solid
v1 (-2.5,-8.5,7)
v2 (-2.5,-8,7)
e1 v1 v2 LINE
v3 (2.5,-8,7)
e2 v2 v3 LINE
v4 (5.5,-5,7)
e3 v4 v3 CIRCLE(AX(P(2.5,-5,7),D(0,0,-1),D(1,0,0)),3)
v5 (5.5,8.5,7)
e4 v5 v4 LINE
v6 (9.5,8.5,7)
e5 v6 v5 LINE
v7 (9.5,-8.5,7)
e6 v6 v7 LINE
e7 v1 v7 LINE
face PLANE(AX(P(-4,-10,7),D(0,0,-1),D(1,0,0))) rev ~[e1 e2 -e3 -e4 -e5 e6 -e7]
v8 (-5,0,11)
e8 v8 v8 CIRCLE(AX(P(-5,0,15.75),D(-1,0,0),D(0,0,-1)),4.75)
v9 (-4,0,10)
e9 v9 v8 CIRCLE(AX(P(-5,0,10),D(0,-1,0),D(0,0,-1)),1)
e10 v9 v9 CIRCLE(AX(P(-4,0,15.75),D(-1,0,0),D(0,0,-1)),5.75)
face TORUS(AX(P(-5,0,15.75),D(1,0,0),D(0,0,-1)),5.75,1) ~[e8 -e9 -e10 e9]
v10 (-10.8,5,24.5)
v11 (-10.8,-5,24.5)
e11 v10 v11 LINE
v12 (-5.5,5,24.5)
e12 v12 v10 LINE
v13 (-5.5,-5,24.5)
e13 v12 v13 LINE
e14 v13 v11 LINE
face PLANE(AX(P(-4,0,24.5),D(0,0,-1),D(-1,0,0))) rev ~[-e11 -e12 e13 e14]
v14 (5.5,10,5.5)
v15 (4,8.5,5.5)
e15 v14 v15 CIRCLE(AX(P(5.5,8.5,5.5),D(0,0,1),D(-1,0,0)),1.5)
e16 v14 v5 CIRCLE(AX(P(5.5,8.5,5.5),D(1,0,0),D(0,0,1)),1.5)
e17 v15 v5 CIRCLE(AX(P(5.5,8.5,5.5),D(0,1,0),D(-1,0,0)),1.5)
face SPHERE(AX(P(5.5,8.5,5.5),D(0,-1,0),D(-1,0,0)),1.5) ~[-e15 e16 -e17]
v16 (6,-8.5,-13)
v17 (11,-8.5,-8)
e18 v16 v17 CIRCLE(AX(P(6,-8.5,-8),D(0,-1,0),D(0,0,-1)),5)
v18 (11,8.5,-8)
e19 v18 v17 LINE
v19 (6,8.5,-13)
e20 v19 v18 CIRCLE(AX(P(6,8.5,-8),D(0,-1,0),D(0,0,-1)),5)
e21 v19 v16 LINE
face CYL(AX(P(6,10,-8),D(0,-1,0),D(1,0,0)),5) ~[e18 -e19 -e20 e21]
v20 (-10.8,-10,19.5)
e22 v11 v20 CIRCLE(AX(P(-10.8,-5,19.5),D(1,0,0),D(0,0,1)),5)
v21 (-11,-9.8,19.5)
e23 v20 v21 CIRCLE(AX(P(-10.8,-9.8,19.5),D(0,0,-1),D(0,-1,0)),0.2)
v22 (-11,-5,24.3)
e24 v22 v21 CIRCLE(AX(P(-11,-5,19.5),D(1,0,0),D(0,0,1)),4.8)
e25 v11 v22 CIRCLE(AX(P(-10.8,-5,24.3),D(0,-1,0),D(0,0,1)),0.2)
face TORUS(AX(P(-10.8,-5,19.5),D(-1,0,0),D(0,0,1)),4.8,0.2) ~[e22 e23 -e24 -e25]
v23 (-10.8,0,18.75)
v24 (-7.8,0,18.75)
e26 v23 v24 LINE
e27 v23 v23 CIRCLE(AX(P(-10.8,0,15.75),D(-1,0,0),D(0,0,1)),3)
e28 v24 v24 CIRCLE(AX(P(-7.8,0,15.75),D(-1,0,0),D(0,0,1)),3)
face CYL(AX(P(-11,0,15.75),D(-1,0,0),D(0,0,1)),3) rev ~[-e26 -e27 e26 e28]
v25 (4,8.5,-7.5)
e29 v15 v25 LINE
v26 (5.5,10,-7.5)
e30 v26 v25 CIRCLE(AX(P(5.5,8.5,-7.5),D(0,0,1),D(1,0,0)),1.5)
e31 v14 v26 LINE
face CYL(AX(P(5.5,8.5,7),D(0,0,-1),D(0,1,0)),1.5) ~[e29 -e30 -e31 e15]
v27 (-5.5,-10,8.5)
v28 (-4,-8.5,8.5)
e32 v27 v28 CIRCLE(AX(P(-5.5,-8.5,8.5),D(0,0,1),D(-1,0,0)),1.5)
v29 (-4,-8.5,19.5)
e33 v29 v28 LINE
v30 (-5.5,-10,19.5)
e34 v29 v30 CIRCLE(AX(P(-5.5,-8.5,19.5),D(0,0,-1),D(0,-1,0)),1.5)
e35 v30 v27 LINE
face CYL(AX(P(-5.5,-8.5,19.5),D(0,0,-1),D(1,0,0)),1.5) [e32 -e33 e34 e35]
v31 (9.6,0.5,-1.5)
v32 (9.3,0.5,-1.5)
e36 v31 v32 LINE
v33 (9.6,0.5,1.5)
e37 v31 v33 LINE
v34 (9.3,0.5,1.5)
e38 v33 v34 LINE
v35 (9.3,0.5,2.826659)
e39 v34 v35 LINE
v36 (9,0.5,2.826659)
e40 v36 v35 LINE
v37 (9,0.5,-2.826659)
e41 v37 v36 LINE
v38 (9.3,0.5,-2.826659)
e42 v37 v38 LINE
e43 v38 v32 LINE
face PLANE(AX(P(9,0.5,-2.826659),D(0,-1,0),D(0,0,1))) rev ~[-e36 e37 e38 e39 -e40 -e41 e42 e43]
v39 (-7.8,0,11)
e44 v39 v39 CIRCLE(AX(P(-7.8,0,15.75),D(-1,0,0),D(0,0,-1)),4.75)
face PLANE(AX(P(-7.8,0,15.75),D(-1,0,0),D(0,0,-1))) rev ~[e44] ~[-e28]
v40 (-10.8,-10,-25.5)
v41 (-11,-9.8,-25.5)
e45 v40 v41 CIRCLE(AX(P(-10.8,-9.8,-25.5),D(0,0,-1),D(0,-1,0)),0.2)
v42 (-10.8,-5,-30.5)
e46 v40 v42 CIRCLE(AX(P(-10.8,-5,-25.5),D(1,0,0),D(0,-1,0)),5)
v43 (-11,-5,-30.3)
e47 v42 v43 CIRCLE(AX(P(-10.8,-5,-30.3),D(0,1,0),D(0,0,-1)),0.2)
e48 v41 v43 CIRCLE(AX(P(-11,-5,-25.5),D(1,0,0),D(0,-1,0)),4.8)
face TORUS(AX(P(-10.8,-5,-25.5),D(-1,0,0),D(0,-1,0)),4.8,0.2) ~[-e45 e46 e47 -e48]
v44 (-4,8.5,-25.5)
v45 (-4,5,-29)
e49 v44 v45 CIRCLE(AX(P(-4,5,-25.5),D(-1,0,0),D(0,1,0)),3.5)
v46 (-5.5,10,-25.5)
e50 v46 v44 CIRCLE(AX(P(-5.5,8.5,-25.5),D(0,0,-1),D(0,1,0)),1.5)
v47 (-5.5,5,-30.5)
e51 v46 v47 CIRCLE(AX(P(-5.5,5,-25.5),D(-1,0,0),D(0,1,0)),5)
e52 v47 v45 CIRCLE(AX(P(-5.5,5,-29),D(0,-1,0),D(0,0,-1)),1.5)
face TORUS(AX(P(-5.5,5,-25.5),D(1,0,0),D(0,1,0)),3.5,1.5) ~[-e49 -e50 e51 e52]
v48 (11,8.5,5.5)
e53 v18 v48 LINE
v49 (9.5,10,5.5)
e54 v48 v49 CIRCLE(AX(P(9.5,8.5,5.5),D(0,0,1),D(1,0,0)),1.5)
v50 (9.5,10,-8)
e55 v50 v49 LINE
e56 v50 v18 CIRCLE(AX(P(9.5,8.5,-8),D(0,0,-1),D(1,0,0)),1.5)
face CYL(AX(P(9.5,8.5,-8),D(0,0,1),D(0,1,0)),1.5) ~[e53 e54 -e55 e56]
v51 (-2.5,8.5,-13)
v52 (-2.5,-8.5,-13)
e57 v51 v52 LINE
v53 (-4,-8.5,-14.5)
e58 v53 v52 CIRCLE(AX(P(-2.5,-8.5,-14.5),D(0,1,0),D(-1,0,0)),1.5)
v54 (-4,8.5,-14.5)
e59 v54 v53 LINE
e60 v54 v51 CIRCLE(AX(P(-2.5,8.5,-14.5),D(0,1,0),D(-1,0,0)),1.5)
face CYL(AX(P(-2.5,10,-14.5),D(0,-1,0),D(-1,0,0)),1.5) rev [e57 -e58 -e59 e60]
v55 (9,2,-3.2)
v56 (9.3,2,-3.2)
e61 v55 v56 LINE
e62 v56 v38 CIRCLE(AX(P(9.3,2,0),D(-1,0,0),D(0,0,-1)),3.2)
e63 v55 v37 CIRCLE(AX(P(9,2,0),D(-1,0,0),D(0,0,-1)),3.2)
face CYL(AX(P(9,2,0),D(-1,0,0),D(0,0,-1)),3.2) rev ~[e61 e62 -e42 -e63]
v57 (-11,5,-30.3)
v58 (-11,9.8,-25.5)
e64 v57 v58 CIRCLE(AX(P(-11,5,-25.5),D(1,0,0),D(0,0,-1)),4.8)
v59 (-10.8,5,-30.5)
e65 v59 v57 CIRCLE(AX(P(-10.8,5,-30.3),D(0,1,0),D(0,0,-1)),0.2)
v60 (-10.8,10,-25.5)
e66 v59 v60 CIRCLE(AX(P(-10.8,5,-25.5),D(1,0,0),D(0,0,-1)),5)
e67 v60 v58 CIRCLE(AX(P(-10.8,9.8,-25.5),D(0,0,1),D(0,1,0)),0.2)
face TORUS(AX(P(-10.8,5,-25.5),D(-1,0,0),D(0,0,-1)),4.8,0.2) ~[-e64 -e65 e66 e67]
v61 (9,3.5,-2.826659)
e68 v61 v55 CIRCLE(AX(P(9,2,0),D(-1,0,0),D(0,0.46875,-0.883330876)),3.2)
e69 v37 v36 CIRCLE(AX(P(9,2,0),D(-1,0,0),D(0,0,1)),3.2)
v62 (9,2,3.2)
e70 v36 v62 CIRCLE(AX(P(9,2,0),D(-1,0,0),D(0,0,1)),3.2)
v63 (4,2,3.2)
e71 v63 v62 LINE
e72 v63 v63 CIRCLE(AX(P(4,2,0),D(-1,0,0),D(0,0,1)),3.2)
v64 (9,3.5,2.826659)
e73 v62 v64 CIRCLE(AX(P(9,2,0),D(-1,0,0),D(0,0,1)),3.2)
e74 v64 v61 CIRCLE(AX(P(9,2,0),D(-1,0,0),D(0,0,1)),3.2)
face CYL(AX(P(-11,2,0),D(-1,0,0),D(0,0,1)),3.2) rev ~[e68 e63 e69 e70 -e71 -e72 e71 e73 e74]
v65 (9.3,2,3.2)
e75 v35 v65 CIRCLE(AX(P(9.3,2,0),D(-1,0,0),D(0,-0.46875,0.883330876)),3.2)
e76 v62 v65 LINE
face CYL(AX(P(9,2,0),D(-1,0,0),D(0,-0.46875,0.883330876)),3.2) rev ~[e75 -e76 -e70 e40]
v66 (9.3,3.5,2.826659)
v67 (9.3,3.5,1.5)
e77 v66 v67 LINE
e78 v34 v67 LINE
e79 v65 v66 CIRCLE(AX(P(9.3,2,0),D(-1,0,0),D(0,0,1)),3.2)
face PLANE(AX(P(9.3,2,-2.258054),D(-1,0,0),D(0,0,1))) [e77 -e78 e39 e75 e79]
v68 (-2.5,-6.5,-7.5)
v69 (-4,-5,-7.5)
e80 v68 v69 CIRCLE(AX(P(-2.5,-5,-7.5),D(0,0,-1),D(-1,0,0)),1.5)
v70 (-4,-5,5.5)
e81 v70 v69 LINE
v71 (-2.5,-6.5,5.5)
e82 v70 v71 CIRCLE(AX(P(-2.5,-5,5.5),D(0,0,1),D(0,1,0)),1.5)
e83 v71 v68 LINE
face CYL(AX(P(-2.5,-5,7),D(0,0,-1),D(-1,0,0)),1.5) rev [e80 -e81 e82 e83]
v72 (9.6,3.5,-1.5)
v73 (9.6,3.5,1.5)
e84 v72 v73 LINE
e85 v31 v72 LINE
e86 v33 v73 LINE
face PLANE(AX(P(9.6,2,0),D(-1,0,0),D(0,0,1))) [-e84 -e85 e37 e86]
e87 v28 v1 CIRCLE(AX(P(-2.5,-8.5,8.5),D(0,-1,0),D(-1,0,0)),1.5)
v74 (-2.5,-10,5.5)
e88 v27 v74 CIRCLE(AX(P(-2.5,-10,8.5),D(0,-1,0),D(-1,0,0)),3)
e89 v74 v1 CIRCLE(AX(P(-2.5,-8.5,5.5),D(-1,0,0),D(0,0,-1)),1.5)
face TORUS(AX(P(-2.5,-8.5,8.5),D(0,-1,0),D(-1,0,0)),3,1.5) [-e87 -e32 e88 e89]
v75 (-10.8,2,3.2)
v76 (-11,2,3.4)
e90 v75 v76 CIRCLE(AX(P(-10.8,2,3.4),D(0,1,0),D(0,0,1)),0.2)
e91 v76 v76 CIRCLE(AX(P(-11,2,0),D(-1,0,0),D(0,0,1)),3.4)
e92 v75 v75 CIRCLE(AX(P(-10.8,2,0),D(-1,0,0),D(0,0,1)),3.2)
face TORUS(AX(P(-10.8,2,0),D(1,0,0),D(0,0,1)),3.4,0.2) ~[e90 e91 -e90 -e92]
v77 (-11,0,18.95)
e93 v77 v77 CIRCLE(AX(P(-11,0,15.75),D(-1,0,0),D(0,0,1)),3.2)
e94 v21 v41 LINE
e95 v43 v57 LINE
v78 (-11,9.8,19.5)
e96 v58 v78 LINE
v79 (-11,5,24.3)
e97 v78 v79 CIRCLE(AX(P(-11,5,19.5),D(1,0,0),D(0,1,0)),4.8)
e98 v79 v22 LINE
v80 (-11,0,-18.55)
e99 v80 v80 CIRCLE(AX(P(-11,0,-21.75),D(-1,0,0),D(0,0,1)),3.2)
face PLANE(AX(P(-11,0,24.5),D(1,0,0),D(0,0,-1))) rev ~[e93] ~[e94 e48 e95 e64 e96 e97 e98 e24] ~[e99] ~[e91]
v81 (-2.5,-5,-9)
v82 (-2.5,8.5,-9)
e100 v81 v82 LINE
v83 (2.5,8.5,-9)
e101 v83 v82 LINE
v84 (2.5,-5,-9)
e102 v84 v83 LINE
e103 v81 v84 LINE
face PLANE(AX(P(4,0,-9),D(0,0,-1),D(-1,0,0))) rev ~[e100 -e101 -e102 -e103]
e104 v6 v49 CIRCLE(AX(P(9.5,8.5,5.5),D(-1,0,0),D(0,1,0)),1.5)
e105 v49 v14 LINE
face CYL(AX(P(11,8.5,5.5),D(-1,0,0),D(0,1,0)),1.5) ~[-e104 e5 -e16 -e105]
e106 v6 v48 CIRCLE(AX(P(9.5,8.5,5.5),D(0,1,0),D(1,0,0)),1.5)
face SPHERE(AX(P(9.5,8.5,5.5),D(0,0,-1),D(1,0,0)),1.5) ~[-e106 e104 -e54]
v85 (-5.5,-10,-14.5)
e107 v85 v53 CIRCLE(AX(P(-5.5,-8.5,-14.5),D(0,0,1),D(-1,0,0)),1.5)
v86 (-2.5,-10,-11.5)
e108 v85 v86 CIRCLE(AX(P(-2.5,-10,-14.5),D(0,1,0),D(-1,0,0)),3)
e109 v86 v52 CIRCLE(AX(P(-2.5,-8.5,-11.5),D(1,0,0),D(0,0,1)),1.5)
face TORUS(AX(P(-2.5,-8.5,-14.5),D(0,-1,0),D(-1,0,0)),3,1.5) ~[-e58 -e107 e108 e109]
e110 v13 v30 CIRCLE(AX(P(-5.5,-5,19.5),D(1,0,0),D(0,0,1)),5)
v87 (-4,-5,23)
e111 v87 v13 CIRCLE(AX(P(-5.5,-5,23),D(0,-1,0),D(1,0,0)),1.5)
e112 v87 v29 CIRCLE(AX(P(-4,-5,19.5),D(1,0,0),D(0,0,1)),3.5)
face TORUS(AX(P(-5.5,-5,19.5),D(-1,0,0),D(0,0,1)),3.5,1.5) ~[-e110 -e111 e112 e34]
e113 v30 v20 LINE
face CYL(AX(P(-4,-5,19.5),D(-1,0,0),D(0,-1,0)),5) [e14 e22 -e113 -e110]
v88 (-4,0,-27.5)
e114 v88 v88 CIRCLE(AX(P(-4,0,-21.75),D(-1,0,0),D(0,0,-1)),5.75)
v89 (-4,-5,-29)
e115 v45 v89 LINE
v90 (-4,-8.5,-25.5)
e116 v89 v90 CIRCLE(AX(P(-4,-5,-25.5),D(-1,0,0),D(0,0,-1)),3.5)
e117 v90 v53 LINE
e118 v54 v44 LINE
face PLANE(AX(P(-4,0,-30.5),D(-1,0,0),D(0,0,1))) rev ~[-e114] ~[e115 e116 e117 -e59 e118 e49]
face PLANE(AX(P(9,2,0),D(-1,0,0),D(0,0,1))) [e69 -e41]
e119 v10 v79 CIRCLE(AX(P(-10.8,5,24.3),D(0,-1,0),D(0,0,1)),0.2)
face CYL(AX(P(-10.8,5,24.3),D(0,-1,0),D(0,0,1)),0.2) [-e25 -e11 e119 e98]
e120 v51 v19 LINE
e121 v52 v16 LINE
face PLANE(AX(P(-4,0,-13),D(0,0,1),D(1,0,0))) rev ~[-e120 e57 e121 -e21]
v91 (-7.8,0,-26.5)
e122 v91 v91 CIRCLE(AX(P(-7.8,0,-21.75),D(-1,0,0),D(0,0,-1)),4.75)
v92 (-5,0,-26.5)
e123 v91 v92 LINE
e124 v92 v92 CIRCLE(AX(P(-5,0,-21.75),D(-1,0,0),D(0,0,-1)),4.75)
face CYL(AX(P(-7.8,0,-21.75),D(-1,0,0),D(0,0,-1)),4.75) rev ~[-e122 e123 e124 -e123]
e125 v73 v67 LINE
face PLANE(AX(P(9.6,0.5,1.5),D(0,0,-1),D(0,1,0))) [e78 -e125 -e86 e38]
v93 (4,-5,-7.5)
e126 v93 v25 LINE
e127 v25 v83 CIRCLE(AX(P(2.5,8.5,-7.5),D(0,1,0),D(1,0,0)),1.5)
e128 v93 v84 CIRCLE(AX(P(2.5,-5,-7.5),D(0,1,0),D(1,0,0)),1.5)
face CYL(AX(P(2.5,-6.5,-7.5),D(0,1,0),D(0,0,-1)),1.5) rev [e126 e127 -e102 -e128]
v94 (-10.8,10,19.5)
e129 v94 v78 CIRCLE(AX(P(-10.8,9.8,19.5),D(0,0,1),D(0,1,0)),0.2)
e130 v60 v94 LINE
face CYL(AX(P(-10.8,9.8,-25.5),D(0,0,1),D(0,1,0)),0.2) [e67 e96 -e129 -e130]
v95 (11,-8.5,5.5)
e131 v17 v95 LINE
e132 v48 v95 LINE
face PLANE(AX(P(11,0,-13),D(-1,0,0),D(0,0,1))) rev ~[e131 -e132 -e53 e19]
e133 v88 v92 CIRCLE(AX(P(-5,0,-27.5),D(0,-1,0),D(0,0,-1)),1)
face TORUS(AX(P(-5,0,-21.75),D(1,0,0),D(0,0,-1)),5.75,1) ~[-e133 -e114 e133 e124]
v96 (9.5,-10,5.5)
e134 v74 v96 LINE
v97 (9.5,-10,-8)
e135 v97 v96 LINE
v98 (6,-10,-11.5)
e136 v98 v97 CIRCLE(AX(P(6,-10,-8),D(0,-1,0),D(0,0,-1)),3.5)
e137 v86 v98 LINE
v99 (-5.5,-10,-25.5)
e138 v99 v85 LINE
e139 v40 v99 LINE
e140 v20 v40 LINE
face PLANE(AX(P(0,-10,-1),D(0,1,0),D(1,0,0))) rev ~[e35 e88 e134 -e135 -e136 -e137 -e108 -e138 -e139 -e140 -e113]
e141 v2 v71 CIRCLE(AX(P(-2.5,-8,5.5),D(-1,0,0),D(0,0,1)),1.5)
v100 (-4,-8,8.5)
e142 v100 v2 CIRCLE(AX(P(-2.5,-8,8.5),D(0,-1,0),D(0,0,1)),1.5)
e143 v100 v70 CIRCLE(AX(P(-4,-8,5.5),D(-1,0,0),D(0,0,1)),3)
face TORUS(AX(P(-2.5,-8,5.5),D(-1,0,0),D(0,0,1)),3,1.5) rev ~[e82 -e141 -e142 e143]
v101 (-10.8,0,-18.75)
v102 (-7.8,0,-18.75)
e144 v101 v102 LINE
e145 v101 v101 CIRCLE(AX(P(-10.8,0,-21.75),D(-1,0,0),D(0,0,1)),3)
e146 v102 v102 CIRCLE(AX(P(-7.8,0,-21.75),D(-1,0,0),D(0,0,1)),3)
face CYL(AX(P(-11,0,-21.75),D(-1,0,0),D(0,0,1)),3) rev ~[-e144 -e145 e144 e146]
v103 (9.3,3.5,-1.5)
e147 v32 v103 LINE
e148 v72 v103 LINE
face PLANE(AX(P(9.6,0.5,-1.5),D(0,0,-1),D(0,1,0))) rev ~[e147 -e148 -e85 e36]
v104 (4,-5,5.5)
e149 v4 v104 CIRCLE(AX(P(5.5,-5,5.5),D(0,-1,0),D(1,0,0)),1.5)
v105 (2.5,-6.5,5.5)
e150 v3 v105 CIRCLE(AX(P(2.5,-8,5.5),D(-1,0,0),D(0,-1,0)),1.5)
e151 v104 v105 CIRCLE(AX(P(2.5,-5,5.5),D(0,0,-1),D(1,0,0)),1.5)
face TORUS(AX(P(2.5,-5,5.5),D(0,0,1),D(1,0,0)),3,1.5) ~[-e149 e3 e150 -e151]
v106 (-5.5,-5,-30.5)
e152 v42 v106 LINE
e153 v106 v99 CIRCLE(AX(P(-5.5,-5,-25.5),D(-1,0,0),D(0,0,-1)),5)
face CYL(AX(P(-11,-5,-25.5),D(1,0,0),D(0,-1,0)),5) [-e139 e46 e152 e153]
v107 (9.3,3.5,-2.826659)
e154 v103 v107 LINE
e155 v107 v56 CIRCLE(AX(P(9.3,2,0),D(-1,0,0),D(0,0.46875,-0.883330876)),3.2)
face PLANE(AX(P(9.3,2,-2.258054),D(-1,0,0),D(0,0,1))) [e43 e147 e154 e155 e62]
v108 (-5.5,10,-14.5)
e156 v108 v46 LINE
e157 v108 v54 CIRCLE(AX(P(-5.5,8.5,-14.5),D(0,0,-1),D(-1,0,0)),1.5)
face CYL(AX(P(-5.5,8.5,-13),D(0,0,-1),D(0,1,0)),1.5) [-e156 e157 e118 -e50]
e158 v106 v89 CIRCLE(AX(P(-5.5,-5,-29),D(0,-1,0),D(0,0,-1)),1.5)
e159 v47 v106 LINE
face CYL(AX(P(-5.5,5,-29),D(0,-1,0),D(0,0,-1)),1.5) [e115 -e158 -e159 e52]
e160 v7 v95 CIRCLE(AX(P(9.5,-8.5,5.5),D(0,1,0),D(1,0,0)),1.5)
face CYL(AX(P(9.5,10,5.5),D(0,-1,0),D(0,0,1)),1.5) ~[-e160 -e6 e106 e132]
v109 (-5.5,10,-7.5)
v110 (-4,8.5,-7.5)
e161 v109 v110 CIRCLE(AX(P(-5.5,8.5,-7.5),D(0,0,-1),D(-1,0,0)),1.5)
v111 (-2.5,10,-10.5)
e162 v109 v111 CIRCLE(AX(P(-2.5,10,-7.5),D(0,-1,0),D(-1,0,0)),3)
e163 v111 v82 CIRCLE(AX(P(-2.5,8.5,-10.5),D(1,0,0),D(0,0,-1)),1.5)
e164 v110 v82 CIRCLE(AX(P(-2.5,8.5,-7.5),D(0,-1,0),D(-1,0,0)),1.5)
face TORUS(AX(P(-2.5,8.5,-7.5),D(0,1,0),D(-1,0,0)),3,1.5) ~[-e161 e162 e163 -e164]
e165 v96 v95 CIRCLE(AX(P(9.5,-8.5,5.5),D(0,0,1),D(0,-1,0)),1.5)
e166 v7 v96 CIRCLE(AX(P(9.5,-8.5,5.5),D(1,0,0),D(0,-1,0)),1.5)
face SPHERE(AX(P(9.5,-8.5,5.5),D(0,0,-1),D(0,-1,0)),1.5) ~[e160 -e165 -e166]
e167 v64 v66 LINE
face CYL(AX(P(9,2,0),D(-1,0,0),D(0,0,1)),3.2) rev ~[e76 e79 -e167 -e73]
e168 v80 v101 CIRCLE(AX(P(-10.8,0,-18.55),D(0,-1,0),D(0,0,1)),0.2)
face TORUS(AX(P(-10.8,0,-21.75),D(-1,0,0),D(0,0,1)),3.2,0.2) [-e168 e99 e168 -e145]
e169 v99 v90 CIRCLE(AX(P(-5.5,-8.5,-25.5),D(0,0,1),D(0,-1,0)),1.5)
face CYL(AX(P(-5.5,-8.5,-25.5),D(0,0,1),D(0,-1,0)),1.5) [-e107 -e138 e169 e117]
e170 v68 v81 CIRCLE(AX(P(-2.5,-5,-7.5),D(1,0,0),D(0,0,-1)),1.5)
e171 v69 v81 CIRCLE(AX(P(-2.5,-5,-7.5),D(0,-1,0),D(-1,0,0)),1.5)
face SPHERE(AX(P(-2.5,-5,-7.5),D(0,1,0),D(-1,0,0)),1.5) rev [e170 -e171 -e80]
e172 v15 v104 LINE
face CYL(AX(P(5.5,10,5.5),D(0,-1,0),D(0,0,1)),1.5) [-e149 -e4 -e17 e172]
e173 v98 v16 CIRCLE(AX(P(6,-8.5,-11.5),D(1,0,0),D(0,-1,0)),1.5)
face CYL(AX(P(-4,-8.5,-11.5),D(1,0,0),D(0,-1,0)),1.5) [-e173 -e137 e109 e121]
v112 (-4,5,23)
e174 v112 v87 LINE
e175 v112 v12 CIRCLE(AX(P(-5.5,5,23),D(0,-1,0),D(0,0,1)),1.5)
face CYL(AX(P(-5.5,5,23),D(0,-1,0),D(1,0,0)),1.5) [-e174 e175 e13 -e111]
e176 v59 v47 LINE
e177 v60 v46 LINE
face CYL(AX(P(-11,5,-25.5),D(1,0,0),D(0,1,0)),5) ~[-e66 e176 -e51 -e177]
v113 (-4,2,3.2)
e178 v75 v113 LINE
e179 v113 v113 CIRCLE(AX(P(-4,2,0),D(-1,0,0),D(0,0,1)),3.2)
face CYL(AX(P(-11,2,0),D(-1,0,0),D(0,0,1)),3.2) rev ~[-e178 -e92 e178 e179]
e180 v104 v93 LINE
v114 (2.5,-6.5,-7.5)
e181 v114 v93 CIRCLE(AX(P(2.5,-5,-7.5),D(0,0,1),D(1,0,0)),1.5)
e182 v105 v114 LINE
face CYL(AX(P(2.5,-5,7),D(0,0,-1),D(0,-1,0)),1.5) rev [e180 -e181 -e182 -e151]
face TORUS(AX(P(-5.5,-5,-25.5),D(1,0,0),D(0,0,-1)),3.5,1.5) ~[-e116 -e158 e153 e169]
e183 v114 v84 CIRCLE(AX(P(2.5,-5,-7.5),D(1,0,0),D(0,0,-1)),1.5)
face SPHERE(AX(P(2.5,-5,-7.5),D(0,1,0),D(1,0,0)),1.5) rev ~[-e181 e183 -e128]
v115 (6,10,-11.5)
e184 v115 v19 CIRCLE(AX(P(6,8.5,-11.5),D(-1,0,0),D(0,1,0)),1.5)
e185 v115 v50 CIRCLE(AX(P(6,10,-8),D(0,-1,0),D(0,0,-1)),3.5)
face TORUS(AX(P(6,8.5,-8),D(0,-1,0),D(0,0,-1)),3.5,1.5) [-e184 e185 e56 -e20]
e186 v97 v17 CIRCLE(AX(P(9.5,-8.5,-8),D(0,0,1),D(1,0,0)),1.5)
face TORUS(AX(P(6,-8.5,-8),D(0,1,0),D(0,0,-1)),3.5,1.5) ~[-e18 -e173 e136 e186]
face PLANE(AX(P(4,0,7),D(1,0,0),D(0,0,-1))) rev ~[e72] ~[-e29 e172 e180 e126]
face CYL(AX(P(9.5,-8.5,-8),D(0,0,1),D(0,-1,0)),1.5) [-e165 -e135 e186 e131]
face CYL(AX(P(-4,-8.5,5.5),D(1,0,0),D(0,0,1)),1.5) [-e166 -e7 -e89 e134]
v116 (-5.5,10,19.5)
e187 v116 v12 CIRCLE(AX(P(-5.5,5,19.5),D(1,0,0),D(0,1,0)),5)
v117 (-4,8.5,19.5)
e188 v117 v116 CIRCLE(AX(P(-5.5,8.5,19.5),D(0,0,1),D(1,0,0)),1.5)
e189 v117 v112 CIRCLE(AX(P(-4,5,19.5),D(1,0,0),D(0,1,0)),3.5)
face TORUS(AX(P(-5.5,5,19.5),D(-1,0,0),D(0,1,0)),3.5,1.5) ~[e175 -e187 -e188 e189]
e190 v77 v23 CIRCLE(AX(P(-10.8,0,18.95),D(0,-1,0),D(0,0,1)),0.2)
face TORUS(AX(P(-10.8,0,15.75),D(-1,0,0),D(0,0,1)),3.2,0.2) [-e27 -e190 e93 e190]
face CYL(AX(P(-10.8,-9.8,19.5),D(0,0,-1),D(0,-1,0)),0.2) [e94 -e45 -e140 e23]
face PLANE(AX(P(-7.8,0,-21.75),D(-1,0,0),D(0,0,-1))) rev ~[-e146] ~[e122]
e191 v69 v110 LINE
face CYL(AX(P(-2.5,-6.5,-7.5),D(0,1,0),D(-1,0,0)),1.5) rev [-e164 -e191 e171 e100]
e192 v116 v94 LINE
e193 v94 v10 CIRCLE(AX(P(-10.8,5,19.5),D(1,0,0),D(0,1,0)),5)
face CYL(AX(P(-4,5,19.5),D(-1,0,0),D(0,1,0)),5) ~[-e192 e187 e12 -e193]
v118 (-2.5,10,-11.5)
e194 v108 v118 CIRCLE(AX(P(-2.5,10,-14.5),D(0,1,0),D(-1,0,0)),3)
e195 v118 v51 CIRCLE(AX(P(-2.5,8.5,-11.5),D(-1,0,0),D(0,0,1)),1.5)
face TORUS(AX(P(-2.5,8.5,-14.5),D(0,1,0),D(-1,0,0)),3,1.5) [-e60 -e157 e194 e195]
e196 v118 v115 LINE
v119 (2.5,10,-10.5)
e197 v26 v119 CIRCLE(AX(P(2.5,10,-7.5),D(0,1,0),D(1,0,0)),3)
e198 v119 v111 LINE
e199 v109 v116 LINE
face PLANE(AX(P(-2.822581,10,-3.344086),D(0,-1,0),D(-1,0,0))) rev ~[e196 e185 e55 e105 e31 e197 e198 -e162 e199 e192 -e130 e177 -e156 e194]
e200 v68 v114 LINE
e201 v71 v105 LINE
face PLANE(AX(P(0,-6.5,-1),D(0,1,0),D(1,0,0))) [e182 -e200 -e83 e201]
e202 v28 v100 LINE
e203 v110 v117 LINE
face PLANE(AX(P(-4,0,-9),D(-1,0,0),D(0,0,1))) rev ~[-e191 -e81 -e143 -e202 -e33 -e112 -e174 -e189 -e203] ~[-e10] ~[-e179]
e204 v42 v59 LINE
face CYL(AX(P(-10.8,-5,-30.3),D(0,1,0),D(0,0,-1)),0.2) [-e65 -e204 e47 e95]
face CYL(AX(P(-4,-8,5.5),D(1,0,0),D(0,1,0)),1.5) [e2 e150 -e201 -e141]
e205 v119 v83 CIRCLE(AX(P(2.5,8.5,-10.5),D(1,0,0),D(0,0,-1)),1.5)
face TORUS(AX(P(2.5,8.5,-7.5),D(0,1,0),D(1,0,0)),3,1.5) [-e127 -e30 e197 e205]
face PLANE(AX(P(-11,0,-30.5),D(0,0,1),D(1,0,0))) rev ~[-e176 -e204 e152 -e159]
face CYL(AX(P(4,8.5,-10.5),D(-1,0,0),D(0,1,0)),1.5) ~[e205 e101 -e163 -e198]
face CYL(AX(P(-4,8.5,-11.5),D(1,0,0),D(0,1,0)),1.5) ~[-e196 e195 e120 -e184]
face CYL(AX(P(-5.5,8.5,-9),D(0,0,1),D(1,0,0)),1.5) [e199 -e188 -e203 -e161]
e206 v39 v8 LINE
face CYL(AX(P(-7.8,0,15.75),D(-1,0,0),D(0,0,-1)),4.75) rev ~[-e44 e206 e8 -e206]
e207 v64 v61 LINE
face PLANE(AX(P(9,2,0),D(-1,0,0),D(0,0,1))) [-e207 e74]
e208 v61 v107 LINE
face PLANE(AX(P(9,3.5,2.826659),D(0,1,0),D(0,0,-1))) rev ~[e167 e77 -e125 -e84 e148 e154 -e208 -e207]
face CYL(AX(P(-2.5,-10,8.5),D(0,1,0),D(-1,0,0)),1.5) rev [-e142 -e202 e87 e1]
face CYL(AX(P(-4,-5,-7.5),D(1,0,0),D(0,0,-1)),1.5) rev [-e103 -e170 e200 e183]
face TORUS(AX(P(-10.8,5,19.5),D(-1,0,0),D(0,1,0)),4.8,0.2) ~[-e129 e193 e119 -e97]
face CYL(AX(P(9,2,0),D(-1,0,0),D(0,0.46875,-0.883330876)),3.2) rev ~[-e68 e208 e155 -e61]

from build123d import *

# Parameters (mm, degrees)
BOSS_EXTRUDE1_DEPTH = 10
BOSS_EXTRUDE2_START = -10
SKETCH1_3_W         = 8
SKETCH1_3_H         = 16
BOSS_EXTRUDE2_DEPTH = 3.5
SKETCH2_R           = 3.2
CUT_EXTRUDE1_DEPTH  = 20
SKETCH2_4_R         = 3
CUT_EXTRUDE2_DEPTH  = 7
CUT_EXTRUDE5_START  = -3.2
SKETCH2_6_R         = 4.75
SKETCH2_6_R_2       = 3
CUT_EXTRUDE5_DEPTH  = 3.8
SKETCH4_W           = 3
SKETCH4_H           = 3
CUT_EXTRUDE9_DEPTH  = 0.3
CUT_EXTRUDE10_START = -0.6
SKETCH4_3_W         = 3
SKETCH4_3_H         = 3
CUT_EXTRUDE10_DEPTH = 0.3
FILLET1_R           = 5
FILLET2_R           = 1.5
FILLET3_R           = 1
FILLET4_R           = 0.2


with BuildPart() as part:
    # Sketch1 → Boss-Extrude1 (new, symmetric)
    with BuildSketch(Plane(origin=(0, 0, 0), x_dir=(1, 0, 0), z_dir=(0, 1, 0))):
        Polygon((-4, -24.5), (-11, -24.5), (-11, 30.5), (-4, 30.5), (-4, 13), (11, 13), (11, -7), (4, -7), (4, 9), (-4, 9), align=None)
    extrude(amount=BOSS_EXTRUDE1_DEPTH, both=True)

    # Sketch1<3> → Boss-Extrude2 (add)
    with BuildSketch(Plane(origin=(0, 0, 0), x_dir=(1, 0, 0), z_dir=(0, 1, 0)).offset(BOSS_EXTRUDE2_START)):
        with Locations((0, 1)):
            Rectangle(SKETCH1_3_W, SKETCH1_3_H)
    extrude(amount=BOSS_EXTRUDE2_DEPTH)

    # Sketch2 → Cut-Extrude1 (cut)
    with BuildSketch(Plane.ZY.offset(11)):
        with Locations((0, 2)):
            Circle(SKETCH2_R)
    extrude(amount=-CUT_EXTRUDE1_DEPTH, mode=Mode.SUBTRACT)

    # Sketch2<4> → Cut-Extrude2 (cut)
    with BuildSketch(Plane.ZY.offset(11)):
        with Locations((-21.75, 0)):
            Circle(SKETCH2_4_R)
        with Locations((15.75, 0)):
            Circle(SKETCH2_4_R)
    extrude(amount=-CUT_EXTRUDE2_DEPTH, mode=Mode.SUBTRACT)

    # Sketch2<6> → Cut-Extrude5 (cut)
    # profile 1 of 2: a face of its own
    with BuildSketch(Plane.ZY.offset(11).offset(CUT_EXTRUDE5_START)):
        with Locations(Location((-21.75, 0, 0), (0, 0, 180))):
            Circle(SKETCH2_6_R)
        with Locations((-21.75, 0)):
            Circle(SKETCH2_6_R_2, mode=Mode.SUBTRACT)
    # profile 2 of 2: a face of its own
    with BuildSketch(Plane.ZY.offset(11).offset(CUT_EXTRUDE5_START)):
        with Locations(Location((15.75, 0, 0), (0, 0, 180))):
            Circle(SKETCH2_6_R)
        with Locations((15.75, 0)):
            Circle(SKETCH2_6_R_2, mode=Mode.SUBTRACT)
    extrude(amount=-CUT_EXTRUDE5_DEPTH, mode=Mode.SUBTRACT)

    # Sketch4 → Cut-Extrude9 (cut)
    with BuildSketch(Plane.ZY.offset(-9)):
        with BuildLine():
            Line((-1.5, 0.5), (-1.5, 3.5))
            Line((-1.5, 3.5), (-2.826658805, 3.5))
            ThreePointArc((-2.826658805, 3.5), (-3.105262322, 2.772881564), (-3.2, 2))
            ThreePointArc((-3.2, 2), (-3.105262322, 1.227118436), (-2.826658805, 0.5))
            Line((-2.826658805, 0.5), (-1.5, 0.5))
        make_face()
        with Locations((0, 2)):
            Rectangle(SKETCH4_W, SKETCH4_H)
        with BuildLine():
            Line((2.826658805, 3.5), (1.5, 3.5))
            Line((1.5, 3.5), (1.5, 0.5))
            Line((1.5, 0.5), (2.826658805, 0.5))
            ThreePointArc((2.826658805, 0.5), (3.105262322, 1.227118436), (3.2, 2))
            ThreePointArc((3.2, 2), (3.105262322, 2.772881564), (2.826658805, 3.5))
        make_face()
    extrude(amount=-CUT_EXTRUDE9_DEPTH, mode=Mode.SUBTRACT)

    # Sketch4<3> → Cut-Extrude10 (cut)
    with BuildSketch(Plane.ZY.offset(-9).offset(CUT_EXTRUDE10_START)):
        with Locations((0, 2)):
            Rectangle(SKETCH4_3_W, SKETCH4_3_H)
    extrude(amount=CUT_EXTRUDE10_DEPTH, mode=Mode.SUBTRACT)

    # Fillet1
    fillet1_edges = [part.edges().sort_by_distance(p)[0] for p in [
        (-7.5, -10, -30.5),
        (-7.5, -10, 24.5),
        (11, 0, -13),
        (-7.5, 10, -30.5),
        (-7.5, 10, 24.5),
    ]]
    fillet(fillet1_edges, radius=FILLET1_R)

    # Fillet2
    fillet2_edges = [part.edges().sort_by_distance(p)[0] for p in [
        (-4, 10, 5.25),
        (-4, -10, -19.25),
        (11, -10, -0.5),
        (9.535533906, -10, -11.535533906),
        (11, 10, -0.5),
        (-4, 10, -19.25),
        (9.535533906, 10, -11.535533906),
        (-4, 0, -30.5),
        (-4, 8.535533906, -29.035533906),
        (-4, -8.535533906, -29.035533906),
        (-4, 0, 24.5),
        (-4, -8.535533906, 23.035533906),
        (-4, 8.535533906, 23.035533906),
        (1, -10, -13),
        (3.5, -10, 7),
        (0, 10, -9),
        (-4, 0, -13),
        (11, 0, 7),
        (4, 1.75, 7),
        (4, 1.75, -9),
        (-4, 1.75, -9),
        (4, 10, -1),
        (7.5, 10, 7),
        (-4, -10, 13.25),
        (1, 10, -13),
        (0, -6.5, 7),
        (-4, -8.25, 7),
        (-4, -6.5, -1),
        (4, -6.5, -1),
        (0, -6.5, -9),
    ]]
    fillet(fillet2_edges, radius=FILLET2_R)

    # Fillet3
    fillet3_edges = [part.edges().sort_by_distance(p)[0] for p in [
        (-4, 0, -17),
        (-4, 0, 20.5),
    ]]
    fillet(fillet3_edges, radius=FILLET3_R)

    # Fillet4
    fillet4_edges = [part.edges().sort_by_distance(p)[0] for p in [
        (-11, -10, -3),
        (-11, 10, -3),
        (-11, 0, -30.5),
        (-11, 0, 24.5),
        (-11, -8.535533906, 23.035533906),
        (-11, 8.535533906, 23.035533906),
        (-11, 8.535533906, -29.035533906),
        (-11, -8.535533906, -29.035533906),
        (-11, 2, -3.2),
        (-11, 0, -24.75),
        (-11, 0, 12.75),
    ]]
    fillet(fillet4_edges, radius=FILLET4_R)


solid = part.part
